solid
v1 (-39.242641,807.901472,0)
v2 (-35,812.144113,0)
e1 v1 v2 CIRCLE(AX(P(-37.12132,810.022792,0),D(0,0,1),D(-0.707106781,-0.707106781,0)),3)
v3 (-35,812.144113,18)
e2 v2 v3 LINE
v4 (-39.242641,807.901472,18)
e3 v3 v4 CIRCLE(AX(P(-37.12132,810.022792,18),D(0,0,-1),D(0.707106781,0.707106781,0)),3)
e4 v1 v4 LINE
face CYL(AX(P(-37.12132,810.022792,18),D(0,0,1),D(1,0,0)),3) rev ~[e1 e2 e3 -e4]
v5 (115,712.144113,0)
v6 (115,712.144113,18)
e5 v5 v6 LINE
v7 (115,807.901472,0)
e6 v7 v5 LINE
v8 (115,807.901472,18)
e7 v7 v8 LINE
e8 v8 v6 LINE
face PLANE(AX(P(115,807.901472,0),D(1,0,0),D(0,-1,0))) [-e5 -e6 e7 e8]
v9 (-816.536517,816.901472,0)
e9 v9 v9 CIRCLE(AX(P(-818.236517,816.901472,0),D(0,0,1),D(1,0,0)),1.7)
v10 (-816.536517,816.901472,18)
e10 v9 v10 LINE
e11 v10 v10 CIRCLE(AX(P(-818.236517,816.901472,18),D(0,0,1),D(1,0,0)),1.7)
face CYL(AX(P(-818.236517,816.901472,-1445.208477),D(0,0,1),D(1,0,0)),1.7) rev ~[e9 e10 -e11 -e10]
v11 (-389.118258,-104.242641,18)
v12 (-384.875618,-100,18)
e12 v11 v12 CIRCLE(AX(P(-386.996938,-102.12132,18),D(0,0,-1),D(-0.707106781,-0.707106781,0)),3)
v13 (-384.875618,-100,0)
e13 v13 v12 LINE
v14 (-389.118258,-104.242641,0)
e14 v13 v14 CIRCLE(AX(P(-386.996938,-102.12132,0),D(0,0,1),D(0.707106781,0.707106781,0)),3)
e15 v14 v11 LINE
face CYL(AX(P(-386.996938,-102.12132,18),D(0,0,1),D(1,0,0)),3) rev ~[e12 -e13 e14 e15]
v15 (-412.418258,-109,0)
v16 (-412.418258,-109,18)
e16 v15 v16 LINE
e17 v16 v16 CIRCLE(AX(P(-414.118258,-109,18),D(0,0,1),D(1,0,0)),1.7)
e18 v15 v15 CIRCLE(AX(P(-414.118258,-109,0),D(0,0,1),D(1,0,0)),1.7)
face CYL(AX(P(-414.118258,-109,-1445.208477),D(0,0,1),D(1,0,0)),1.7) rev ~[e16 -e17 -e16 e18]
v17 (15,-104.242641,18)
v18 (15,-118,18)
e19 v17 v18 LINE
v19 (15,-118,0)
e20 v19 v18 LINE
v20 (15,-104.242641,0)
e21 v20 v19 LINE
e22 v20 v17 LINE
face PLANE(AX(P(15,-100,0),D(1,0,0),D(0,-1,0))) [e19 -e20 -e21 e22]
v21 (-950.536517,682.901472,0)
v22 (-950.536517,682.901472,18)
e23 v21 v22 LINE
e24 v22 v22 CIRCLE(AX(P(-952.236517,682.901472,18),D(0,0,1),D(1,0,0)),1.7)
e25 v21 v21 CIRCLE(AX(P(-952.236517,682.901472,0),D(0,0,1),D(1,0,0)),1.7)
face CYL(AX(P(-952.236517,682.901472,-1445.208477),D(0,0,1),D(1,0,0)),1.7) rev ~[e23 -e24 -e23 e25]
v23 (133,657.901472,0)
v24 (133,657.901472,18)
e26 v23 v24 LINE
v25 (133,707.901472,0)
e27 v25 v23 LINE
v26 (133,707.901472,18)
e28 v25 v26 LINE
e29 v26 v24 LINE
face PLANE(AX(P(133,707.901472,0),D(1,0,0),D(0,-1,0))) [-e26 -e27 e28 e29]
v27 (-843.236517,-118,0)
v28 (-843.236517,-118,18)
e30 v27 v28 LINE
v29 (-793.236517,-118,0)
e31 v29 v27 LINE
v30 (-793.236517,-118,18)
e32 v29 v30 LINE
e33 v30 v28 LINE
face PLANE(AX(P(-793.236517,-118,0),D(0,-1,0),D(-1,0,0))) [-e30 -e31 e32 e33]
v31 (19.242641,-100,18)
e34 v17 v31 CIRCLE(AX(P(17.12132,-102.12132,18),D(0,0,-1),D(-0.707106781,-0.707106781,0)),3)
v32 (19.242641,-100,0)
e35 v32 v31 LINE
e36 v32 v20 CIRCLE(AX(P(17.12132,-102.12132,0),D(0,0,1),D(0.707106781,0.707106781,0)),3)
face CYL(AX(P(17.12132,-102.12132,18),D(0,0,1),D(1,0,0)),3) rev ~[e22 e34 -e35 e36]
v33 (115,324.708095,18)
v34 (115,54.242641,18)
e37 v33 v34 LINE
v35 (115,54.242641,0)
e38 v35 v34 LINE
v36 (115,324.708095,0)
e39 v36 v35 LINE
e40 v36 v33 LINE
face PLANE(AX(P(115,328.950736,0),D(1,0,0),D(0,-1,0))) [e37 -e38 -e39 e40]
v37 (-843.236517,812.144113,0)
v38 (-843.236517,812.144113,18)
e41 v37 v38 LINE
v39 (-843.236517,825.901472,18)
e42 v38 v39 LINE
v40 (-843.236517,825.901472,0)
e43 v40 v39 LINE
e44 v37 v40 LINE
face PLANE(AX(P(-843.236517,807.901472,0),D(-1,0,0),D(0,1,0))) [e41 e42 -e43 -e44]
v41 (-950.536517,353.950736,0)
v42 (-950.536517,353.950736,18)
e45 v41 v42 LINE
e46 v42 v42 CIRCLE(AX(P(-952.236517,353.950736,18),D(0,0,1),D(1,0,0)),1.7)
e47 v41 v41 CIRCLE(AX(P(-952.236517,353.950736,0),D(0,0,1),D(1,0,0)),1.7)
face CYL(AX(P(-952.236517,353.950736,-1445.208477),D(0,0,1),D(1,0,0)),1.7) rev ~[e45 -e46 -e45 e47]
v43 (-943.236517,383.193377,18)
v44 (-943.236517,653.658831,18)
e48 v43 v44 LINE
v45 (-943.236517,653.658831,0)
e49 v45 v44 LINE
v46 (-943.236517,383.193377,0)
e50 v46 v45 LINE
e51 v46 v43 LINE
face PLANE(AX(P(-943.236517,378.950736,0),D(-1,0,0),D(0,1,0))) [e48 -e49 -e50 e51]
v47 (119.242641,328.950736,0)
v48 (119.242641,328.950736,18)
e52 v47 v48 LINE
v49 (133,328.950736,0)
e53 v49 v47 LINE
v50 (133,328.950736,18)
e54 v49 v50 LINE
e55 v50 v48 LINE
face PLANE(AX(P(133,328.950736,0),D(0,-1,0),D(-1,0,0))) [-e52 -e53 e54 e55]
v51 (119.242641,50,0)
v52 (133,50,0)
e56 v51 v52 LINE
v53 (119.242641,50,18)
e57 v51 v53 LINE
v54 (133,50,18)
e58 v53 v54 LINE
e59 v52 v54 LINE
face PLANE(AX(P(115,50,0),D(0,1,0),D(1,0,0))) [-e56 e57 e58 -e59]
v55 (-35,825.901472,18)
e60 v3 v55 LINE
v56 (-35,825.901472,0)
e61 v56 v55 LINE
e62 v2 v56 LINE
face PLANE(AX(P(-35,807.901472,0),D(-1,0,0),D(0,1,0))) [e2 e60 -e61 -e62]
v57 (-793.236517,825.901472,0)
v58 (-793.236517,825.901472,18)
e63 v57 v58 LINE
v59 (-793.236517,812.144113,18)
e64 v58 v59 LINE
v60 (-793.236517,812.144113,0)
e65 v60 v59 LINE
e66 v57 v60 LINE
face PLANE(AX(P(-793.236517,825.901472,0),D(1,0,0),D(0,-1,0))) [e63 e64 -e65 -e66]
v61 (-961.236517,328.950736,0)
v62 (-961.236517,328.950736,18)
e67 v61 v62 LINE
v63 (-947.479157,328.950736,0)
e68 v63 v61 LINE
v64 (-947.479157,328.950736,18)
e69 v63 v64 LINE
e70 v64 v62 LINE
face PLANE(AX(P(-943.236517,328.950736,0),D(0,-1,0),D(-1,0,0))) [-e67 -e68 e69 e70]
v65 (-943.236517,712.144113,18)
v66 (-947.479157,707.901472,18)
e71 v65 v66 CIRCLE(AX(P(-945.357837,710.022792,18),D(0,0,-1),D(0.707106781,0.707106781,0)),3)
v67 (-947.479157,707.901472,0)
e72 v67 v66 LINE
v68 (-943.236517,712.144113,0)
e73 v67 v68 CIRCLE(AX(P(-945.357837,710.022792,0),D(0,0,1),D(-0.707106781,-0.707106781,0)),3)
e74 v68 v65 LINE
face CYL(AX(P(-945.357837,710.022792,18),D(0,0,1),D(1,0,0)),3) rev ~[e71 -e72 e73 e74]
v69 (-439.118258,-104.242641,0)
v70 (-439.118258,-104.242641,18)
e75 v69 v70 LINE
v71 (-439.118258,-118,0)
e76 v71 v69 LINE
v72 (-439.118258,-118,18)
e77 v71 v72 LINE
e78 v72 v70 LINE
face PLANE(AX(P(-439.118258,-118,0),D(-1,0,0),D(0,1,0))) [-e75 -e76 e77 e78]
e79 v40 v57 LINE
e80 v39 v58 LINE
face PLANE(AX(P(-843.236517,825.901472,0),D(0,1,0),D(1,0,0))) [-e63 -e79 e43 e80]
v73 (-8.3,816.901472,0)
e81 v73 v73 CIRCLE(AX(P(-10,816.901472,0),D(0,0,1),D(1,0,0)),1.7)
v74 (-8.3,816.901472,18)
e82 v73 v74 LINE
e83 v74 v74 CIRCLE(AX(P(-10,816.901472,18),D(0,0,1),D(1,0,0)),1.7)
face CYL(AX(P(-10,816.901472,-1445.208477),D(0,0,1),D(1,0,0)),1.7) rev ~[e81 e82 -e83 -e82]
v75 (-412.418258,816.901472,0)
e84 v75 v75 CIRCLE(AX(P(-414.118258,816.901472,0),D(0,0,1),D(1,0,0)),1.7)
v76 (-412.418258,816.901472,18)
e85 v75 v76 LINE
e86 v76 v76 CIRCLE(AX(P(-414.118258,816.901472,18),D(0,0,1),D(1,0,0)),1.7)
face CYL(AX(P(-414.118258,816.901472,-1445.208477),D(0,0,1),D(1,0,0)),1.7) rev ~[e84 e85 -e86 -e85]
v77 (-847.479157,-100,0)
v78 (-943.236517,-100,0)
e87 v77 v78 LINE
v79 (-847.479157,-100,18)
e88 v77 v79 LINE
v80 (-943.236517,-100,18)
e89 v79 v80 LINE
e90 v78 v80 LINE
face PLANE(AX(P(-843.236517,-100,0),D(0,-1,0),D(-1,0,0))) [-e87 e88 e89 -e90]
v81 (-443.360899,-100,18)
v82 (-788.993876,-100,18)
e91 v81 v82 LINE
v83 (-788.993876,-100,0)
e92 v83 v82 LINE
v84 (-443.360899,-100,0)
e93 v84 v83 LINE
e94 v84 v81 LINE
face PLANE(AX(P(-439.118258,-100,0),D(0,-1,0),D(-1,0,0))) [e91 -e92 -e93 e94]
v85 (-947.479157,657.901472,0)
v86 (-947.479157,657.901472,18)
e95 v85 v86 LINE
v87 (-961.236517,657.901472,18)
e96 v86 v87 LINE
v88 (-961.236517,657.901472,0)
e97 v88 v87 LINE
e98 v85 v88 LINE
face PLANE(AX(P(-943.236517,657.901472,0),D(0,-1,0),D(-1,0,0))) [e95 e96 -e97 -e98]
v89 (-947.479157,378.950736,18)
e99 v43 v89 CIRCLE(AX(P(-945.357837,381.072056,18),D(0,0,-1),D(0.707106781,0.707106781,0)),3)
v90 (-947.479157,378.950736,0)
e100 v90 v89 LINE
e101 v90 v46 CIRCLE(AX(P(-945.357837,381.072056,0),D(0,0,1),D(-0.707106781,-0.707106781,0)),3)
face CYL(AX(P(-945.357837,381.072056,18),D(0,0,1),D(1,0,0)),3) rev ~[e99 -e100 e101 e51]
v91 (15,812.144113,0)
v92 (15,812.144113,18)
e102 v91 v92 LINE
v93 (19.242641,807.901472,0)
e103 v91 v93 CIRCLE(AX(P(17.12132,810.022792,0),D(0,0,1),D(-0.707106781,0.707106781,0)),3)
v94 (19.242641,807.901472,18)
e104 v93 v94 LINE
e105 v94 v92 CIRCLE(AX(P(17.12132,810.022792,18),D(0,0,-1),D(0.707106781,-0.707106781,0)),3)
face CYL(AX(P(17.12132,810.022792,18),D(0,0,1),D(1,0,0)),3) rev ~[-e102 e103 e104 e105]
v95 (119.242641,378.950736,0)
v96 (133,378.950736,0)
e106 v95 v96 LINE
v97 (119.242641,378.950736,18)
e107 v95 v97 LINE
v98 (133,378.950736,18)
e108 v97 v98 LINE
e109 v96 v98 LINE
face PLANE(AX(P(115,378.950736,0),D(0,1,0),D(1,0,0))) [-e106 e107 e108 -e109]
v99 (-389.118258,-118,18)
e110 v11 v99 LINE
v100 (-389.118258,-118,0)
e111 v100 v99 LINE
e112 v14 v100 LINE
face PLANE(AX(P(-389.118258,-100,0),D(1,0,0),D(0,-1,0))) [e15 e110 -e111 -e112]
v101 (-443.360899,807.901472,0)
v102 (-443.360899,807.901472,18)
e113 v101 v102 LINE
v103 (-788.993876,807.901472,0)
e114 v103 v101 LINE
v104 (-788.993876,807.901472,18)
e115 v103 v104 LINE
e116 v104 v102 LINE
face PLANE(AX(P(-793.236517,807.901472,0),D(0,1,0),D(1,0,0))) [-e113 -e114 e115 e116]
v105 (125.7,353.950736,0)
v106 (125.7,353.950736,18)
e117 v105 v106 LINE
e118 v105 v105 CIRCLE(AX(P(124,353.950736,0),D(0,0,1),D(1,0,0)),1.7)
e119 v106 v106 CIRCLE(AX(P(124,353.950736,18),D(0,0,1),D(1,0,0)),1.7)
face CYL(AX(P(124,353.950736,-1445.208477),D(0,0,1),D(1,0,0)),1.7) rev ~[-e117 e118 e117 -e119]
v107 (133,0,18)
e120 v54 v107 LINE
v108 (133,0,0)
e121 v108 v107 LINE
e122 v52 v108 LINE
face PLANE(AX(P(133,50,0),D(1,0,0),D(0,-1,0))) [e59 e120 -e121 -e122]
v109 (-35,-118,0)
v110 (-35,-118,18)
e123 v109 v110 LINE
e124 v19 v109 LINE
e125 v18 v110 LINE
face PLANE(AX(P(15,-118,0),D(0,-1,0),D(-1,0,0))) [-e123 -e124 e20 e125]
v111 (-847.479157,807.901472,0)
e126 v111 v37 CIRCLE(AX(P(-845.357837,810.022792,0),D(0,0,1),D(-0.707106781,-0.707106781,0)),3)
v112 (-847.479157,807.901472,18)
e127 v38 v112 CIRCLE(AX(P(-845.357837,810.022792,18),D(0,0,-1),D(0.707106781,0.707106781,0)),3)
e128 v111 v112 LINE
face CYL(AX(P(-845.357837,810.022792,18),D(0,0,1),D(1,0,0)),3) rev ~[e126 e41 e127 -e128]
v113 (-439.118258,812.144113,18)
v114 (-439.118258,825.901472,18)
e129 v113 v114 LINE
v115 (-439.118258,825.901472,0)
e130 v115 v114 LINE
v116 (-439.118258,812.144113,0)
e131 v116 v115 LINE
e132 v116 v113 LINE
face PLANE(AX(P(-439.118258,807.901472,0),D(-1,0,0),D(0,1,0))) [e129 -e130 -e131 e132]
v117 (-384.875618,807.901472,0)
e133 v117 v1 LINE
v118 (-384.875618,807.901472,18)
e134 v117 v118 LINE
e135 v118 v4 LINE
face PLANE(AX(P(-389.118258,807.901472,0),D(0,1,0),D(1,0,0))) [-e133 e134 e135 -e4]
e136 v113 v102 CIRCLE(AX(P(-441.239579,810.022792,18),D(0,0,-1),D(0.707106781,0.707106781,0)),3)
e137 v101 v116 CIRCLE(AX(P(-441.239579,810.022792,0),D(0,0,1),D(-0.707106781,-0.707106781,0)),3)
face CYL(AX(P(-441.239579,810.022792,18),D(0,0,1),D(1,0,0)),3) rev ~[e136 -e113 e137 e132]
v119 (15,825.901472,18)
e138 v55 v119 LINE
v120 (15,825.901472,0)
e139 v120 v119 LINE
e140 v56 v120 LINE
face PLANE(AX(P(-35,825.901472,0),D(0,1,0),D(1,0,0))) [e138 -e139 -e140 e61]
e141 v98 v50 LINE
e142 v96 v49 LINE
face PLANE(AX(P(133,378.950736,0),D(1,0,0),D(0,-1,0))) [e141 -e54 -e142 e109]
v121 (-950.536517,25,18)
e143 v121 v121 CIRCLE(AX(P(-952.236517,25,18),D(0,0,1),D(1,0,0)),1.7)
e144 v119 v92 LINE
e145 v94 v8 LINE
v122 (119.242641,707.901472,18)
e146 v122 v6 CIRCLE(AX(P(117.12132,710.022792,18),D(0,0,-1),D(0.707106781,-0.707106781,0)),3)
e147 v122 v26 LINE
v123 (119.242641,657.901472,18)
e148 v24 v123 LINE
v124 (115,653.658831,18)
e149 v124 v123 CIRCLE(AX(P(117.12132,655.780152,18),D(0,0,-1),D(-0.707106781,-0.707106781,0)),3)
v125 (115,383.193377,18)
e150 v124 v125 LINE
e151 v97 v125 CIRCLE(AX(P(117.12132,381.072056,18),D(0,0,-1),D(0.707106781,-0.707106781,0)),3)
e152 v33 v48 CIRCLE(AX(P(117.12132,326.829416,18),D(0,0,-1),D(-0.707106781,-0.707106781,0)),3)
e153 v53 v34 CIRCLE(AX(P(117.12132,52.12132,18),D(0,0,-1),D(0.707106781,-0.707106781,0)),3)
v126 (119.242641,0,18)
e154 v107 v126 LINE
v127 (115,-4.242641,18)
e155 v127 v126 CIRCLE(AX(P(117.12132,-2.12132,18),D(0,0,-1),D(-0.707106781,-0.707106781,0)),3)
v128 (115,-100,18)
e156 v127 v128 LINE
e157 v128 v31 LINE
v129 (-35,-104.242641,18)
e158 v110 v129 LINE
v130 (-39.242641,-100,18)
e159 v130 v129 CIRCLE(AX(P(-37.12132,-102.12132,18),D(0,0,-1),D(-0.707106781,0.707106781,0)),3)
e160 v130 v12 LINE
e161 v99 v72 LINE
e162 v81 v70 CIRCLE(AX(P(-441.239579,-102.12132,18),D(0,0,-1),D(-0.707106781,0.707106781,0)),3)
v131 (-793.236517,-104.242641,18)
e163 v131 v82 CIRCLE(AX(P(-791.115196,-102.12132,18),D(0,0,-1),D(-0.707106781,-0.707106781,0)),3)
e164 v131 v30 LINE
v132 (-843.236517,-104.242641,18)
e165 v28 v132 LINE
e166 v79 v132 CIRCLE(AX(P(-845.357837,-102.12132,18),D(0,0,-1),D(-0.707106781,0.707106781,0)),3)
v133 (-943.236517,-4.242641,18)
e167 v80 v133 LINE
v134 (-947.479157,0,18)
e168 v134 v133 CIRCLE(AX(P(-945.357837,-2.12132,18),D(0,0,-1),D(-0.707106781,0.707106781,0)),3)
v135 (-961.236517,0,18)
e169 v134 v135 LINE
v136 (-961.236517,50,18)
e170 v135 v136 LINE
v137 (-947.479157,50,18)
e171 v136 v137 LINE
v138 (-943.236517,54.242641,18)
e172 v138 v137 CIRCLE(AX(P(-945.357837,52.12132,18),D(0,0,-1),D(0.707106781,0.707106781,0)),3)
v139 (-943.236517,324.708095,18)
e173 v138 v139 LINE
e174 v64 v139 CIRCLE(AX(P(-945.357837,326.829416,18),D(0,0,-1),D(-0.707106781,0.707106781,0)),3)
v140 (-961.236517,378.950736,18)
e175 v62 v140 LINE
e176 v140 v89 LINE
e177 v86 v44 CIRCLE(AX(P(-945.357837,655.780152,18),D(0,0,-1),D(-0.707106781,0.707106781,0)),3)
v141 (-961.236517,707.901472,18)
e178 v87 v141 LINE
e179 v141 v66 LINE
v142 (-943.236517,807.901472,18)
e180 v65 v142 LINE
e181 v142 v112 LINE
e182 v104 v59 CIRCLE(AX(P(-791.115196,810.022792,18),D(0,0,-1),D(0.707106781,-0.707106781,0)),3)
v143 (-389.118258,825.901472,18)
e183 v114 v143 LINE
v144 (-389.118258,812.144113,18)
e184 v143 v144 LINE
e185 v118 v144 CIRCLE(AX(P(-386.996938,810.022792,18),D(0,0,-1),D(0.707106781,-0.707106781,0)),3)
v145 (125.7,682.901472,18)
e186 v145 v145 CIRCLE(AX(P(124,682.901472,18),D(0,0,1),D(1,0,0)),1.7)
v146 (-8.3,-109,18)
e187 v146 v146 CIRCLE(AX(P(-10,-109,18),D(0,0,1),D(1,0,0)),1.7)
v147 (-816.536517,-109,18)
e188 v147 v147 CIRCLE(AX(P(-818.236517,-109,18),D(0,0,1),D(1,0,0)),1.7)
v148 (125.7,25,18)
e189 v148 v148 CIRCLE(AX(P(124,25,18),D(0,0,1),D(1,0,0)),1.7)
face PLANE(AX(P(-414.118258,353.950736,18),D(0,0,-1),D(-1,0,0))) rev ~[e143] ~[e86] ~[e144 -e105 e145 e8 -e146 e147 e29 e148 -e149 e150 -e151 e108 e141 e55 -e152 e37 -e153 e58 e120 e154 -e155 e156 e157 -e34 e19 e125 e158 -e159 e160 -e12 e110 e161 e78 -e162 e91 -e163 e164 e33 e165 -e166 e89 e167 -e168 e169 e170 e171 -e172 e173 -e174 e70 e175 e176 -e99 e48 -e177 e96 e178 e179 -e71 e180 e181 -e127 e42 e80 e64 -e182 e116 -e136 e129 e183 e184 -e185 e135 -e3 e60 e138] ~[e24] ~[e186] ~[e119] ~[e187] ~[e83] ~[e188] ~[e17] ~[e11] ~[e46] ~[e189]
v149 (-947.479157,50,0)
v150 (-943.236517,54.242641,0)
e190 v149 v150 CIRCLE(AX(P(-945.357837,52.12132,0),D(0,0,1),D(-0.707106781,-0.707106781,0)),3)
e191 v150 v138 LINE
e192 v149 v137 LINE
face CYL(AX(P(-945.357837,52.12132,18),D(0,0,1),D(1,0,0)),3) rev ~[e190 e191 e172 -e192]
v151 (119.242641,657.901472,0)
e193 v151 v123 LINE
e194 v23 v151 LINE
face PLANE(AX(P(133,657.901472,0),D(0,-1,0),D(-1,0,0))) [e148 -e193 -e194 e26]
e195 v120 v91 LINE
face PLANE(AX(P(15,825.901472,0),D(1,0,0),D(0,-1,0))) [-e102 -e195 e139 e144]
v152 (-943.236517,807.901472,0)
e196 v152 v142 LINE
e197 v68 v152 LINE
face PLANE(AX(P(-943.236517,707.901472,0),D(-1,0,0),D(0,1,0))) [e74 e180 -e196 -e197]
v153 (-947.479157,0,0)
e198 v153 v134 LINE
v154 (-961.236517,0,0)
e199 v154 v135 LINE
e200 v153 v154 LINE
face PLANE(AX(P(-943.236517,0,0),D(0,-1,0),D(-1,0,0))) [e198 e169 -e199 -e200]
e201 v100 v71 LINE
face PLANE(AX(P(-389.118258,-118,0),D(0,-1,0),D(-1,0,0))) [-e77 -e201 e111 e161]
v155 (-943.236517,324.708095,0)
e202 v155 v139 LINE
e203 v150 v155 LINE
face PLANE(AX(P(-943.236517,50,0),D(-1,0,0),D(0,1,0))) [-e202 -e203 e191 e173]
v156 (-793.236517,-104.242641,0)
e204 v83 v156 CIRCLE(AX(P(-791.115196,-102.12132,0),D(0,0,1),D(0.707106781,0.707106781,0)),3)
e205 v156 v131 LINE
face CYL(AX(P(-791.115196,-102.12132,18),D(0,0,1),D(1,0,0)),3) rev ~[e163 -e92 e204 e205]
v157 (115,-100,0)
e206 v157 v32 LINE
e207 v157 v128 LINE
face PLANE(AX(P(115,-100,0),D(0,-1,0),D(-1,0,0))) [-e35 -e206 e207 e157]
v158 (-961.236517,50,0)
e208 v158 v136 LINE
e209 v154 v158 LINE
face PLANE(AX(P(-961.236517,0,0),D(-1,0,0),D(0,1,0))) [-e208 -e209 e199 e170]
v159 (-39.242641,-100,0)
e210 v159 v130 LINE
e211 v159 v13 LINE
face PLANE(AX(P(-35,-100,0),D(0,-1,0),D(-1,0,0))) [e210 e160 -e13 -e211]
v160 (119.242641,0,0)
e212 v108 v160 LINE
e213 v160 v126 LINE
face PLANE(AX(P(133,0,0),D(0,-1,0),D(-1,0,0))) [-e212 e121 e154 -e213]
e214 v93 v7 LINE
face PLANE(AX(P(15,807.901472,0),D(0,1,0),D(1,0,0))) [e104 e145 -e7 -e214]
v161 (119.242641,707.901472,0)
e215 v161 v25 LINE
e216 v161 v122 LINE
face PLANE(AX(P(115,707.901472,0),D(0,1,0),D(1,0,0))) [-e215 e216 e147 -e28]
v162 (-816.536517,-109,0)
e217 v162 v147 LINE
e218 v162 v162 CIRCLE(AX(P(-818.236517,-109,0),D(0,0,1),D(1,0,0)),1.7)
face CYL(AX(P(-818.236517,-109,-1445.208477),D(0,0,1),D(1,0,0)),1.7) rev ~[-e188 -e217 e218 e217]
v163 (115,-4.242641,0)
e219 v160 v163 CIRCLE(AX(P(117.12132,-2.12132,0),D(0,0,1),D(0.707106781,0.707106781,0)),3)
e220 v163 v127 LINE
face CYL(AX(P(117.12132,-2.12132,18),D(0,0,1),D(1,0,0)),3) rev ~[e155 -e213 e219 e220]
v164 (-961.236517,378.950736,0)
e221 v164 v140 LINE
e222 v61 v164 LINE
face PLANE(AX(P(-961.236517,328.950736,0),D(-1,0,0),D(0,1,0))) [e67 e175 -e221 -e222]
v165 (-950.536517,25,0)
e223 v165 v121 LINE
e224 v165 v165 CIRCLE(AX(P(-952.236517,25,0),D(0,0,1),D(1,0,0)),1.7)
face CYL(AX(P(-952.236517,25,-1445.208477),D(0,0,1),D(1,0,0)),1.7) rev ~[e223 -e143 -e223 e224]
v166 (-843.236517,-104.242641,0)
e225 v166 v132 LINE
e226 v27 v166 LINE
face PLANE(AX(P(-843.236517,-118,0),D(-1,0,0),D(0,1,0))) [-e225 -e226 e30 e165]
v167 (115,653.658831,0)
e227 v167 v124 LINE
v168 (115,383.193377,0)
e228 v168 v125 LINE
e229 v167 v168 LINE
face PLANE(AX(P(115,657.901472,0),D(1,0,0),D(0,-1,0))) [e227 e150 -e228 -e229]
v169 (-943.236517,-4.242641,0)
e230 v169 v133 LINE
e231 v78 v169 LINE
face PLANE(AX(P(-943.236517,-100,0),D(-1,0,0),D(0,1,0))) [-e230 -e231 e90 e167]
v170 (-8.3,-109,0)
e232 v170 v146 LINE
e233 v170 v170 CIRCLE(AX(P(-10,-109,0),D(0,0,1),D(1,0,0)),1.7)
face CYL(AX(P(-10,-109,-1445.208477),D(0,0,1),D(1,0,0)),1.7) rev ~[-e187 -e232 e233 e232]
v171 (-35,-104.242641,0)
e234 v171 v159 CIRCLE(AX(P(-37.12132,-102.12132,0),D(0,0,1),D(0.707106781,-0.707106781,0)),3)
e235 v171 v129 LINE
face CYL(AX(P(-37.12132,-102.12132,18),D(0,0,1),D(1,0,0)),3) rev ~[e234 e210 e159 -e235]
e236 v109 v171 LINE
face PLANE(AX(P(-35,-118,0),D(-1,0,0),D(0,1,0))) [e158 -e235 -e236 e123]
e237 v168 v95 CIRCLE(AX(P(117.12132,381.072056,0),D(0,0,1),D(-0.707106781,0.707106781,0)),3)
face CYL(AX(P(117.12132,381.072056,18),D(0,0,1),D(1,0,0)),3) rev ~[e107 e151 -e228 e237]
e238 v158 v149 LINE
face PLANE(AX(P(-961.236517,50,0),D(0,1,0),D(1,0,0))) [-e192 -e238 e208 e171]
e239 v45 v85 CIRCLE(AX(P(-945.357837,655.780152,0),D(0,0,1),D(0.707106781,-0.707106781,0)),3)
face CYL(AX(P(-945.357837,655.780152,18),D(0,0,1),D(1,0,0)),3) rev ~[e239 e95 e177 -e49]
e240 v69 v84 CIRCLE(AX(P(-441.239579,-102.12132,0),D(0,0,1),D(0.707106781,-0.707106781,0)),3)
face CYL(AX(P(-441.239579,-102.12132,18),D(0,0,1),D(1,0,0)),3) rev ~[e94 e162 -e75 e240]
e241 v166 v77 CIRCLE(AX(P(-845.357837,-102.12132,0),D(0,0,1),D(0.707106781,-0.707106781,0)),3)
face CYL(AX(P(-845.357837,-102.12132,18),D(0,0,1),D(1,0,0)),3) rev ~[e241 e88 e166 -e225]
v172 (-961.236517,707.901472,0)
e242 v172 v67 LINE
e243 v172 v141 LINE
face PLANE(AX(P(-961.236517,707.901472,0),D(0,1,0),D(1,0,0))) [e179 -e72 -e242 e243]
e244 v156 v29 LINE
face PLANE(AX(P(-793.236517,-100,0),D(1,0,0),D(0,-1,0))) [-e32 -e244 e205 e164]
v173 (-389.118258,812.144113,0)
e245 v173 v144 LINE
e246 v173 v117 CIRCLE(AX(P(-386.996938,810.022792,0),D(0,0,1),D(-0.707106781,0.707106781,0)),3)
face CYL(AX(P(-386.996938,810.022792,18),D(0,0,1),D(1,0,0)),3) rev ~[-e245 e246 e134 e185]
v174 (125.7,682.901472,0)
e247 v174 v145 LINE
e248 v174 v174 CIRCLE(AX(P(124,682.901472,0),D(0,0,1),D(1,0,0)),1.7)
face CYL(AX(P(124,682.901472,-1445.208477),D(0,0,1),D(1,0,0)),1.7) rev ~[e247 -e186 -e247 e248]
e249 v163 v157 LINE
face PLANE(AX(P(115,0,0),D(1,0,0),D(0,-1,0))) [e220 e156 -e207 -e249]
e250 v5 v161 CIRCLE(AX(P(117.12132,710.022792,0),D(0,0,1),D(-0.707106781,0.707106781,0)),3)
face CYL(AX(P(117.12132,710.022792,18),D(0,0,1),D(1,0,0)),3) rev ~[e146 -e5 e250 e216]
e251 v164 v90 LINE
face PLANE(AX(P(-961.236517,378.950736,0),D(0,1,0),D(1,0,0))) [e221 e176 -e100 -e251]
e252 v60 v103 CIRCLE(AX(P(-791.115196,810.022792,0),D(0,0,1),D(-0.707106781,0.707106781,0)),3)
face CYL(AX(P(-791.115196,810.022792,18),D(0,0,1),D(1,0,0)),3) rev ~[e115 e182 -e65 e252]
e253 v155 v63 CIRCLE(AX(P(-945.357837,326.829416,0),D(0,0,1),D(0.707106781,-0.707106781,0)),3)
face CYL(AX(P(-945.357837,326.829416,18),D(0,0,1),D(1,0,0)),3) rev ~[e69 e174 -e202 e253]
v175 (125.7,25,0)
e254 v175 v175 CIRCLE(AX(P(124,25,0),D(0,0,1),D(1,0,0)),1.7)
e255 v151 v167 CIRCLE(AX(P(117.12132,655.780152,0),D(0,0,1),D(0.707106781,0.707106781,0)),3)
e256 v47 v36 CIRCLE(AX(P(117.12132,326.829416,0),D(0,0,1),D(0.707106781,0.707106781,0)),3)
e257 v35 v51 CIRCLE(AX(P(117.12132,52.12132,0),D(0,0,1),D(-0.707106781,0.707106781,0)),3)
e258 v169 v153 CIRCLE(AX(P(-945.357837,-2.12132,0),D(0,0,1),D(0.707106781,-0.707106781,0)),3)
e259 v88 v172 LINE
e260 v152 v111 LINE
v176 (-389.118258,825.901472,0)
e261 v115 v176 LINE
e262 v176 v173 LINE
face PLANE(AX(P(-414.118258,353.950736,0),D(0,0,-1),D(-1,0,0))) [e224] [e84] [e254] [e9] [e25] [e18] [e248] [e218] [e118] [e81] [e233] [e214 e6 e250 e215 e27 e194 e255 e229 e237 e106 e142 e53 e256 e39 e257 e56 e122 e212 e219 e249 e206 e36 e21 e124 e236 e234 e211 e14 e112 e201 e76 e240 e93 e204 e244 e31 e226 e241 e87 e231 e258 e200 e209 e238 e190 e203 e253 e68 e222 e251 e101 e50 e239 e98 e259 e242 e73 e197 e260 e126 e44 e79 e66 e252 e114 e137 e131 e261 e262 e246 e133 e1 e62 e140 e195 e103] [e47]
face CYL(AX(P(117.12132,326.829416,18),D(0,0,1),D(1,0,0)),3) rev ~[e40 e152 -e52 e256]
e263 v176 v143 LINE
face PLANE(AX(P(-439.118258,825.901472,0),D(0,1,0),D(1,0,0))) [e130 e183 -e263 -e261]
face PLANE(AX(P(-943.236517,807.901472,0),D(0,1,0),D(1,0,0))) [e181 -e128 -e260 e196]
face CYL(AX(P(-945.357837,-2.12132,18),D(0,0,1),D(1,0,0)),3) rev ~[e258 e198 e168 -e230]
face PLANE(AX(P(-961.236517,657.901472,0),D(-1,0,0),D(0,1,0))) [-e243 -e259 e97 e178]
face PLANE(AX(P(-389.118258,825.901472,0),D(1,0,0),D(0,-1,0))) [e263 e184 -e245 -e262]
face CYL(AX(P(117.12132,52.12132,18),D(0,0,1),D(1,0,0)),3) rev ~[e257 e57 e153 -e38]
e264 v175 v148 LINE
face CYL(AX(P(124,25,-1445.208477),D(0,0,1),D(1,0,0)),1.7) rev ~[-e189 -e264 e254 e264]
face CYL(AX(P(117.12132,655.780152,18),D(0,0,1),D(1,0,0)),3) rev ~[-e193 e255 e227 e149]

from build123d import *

# Parameters (mm, degrees)
BOSS_EXTRUDE1_DEPTH  = 18
SKETCH4_R            = 3
CUT_EXTRUDE2_DEPTH   = 30
M3_CLEARANCE_HOLE1_D = 3.4


with BuildPart() as part:
    # Sketch1 → Boss-Extrude1 (new body)
    with BuildSketch(Plane.XY):
        Polygon((-961.236516538, 328.950735931), (-961.236516538, 378.950735931), (-943.236516538, 378.950735931), (-943.236516538, 657.901471863), (-961.236516538, 657.901471863), (-961.236516538, 707.901471863), (-943.236516538, 707.901471863), (-943.236516538, 807.901471863), (-843.236516538, 807.901471863), (-843.236516538, 825.901471863), (-793.236516538, 825.901471863), (-793.236516538, 807.901471863), (-439.118258269, 807.901471863), (-439.118258269, 825.901471863), (-389.118258269, 825.901471863), (-389.118258269, 807.901471863), (-35, 807.901471863), (-35, 825.901471863), (15, 825.901471863), (15, 807.901471863), (115, 807.901471863), (115, 707.901471863), (133, 707.901471863), (133, 657.901471863), (115, 657.901471863), (115, 378.950735931), (133, 378.950735931), (133, 328.950735931), (115, 328.950735931), (115, 50), (133, 50), (133, 0), (115, 0), (115, -100), (15, -100), (15, -118), (-35, -118), (-35, -100), (-389.118258269, -100), (-389.118258269, -118), (-439.118258269, -118), (-439.118258269, -100), (-793.236516538, -100), (-793.236516538, -118), (-843.236516538, -118), (-843.236516538, -100), (-943.236516538, -100), (-943.236516538, 0), (-961.236516538, 0), (-961.236516538, 50), (-943.236516538, 50), (-943.236516538, 328.950735931), align=None)
    extrude(amount=BOSS_EXTRUDE1_DEPTH)

    # Sketch4 → Cut-Extrude2 (cut)
    with BuildSketch(Plane.XY.offset(18)):
        with Locations((-845.357836881, 810.022792206)):
            Circle(SKETCH4_R)
        with Locations((-791.115196194, 810.022792206)):
            Circle(SKETCH4_R)
        with Locations((-37.121320344, 810.022792206)):
            Circle(SKETCH4_R)
        with Locations((17.121320344, 810.022792206)):
            Circle(SKETCH4_R)
        with Locations((-441.239578612, 810.022792206)):
            Circle(SKETCH4_R)
        with Locations((-386.996937925, 810.022792206)):
            Circle(SKETCH4_R)
        with Locations((-386.996937925, -102.121320344)):
            Circle(SKETCH4_R)
        with Locations((-441.239578612, -102.121320344)):
            Circle(SKETCH4_R)
        with Locations((17.121320344, -102.121320344)):
            Circle(SKETCH4_R)
        with Locations((-37.121320344, -102.121320344)):
            Circle(SKETCH4_R)
        with Locations((-791.115196194, -102.121320344)):
            Circle(SKETCH4_R)
        with Locations((-845.357836881, -102.121320344)):
            Circle(SKETCH4_R)
        with Locations((117.121320344, 381.072056275)):
            Circle(SKETCH4_R)
        with Locations((117.121320344, 326.829415588)):
            Circle(SKETCH4_R)
        with Locations((117.121320344, 710.022792206)):
            Circle(SKETCH4_R)
        with Locations((117.121320344, 655.780151519)):
            Circle(SKETCH4_R)
        with Locations((117.121320344, 52.121320344)):
            Circle(SKETCH4_R)
        with Locations((117.121320344, -2.121320344)):
            Circle(SKETCH4_R)
        with Locations((-945.357836881, -2.121320344)):
            Circle(SKETCH4_R)
        with Locations((-945.357836881, 52.121320344)):
            Circle(SKETCH4_R)
        with Locations((-945.357836881, 655.780151519)):
            Circle(SKETCH4_R)
        with Locations((-945.357836881, 710.022792206)):
            Circle(SKETCH4_R)
        with Locations((-945.357836881, 326.829415588)):
            Circle(SKETCH4_R)
        with Locations((-945.357836881, 381.072056275)):
            Circle(SKETCH4_R)
    extrude(amount=-CUT_EXTRUDE2_DEPTH, mode=Mode.SUBTRACT)

    # M3 Clearance Hole1 (through all)
    with Locations(Plane(origin=(0, 0, 0), x_dir=(-1, 0, 0), z_dir=(0, 0, -1))):
        with Locations((-124, 682.901471863), (-124, 353.950735931), (-124, 25), (10, -109), (414.118258269, -109), (818.236516538, -109), (952.236516538, 25), (952.236516538, 353.950735931), (952.236516538, 682.901471863), (818.236516538, 816.901471863), (414.118258269, 816.901471863), (10, 816.901471863)):
            Hole(M3_CLEARANCE_HOLE1_D / 2)


solid = part.part
